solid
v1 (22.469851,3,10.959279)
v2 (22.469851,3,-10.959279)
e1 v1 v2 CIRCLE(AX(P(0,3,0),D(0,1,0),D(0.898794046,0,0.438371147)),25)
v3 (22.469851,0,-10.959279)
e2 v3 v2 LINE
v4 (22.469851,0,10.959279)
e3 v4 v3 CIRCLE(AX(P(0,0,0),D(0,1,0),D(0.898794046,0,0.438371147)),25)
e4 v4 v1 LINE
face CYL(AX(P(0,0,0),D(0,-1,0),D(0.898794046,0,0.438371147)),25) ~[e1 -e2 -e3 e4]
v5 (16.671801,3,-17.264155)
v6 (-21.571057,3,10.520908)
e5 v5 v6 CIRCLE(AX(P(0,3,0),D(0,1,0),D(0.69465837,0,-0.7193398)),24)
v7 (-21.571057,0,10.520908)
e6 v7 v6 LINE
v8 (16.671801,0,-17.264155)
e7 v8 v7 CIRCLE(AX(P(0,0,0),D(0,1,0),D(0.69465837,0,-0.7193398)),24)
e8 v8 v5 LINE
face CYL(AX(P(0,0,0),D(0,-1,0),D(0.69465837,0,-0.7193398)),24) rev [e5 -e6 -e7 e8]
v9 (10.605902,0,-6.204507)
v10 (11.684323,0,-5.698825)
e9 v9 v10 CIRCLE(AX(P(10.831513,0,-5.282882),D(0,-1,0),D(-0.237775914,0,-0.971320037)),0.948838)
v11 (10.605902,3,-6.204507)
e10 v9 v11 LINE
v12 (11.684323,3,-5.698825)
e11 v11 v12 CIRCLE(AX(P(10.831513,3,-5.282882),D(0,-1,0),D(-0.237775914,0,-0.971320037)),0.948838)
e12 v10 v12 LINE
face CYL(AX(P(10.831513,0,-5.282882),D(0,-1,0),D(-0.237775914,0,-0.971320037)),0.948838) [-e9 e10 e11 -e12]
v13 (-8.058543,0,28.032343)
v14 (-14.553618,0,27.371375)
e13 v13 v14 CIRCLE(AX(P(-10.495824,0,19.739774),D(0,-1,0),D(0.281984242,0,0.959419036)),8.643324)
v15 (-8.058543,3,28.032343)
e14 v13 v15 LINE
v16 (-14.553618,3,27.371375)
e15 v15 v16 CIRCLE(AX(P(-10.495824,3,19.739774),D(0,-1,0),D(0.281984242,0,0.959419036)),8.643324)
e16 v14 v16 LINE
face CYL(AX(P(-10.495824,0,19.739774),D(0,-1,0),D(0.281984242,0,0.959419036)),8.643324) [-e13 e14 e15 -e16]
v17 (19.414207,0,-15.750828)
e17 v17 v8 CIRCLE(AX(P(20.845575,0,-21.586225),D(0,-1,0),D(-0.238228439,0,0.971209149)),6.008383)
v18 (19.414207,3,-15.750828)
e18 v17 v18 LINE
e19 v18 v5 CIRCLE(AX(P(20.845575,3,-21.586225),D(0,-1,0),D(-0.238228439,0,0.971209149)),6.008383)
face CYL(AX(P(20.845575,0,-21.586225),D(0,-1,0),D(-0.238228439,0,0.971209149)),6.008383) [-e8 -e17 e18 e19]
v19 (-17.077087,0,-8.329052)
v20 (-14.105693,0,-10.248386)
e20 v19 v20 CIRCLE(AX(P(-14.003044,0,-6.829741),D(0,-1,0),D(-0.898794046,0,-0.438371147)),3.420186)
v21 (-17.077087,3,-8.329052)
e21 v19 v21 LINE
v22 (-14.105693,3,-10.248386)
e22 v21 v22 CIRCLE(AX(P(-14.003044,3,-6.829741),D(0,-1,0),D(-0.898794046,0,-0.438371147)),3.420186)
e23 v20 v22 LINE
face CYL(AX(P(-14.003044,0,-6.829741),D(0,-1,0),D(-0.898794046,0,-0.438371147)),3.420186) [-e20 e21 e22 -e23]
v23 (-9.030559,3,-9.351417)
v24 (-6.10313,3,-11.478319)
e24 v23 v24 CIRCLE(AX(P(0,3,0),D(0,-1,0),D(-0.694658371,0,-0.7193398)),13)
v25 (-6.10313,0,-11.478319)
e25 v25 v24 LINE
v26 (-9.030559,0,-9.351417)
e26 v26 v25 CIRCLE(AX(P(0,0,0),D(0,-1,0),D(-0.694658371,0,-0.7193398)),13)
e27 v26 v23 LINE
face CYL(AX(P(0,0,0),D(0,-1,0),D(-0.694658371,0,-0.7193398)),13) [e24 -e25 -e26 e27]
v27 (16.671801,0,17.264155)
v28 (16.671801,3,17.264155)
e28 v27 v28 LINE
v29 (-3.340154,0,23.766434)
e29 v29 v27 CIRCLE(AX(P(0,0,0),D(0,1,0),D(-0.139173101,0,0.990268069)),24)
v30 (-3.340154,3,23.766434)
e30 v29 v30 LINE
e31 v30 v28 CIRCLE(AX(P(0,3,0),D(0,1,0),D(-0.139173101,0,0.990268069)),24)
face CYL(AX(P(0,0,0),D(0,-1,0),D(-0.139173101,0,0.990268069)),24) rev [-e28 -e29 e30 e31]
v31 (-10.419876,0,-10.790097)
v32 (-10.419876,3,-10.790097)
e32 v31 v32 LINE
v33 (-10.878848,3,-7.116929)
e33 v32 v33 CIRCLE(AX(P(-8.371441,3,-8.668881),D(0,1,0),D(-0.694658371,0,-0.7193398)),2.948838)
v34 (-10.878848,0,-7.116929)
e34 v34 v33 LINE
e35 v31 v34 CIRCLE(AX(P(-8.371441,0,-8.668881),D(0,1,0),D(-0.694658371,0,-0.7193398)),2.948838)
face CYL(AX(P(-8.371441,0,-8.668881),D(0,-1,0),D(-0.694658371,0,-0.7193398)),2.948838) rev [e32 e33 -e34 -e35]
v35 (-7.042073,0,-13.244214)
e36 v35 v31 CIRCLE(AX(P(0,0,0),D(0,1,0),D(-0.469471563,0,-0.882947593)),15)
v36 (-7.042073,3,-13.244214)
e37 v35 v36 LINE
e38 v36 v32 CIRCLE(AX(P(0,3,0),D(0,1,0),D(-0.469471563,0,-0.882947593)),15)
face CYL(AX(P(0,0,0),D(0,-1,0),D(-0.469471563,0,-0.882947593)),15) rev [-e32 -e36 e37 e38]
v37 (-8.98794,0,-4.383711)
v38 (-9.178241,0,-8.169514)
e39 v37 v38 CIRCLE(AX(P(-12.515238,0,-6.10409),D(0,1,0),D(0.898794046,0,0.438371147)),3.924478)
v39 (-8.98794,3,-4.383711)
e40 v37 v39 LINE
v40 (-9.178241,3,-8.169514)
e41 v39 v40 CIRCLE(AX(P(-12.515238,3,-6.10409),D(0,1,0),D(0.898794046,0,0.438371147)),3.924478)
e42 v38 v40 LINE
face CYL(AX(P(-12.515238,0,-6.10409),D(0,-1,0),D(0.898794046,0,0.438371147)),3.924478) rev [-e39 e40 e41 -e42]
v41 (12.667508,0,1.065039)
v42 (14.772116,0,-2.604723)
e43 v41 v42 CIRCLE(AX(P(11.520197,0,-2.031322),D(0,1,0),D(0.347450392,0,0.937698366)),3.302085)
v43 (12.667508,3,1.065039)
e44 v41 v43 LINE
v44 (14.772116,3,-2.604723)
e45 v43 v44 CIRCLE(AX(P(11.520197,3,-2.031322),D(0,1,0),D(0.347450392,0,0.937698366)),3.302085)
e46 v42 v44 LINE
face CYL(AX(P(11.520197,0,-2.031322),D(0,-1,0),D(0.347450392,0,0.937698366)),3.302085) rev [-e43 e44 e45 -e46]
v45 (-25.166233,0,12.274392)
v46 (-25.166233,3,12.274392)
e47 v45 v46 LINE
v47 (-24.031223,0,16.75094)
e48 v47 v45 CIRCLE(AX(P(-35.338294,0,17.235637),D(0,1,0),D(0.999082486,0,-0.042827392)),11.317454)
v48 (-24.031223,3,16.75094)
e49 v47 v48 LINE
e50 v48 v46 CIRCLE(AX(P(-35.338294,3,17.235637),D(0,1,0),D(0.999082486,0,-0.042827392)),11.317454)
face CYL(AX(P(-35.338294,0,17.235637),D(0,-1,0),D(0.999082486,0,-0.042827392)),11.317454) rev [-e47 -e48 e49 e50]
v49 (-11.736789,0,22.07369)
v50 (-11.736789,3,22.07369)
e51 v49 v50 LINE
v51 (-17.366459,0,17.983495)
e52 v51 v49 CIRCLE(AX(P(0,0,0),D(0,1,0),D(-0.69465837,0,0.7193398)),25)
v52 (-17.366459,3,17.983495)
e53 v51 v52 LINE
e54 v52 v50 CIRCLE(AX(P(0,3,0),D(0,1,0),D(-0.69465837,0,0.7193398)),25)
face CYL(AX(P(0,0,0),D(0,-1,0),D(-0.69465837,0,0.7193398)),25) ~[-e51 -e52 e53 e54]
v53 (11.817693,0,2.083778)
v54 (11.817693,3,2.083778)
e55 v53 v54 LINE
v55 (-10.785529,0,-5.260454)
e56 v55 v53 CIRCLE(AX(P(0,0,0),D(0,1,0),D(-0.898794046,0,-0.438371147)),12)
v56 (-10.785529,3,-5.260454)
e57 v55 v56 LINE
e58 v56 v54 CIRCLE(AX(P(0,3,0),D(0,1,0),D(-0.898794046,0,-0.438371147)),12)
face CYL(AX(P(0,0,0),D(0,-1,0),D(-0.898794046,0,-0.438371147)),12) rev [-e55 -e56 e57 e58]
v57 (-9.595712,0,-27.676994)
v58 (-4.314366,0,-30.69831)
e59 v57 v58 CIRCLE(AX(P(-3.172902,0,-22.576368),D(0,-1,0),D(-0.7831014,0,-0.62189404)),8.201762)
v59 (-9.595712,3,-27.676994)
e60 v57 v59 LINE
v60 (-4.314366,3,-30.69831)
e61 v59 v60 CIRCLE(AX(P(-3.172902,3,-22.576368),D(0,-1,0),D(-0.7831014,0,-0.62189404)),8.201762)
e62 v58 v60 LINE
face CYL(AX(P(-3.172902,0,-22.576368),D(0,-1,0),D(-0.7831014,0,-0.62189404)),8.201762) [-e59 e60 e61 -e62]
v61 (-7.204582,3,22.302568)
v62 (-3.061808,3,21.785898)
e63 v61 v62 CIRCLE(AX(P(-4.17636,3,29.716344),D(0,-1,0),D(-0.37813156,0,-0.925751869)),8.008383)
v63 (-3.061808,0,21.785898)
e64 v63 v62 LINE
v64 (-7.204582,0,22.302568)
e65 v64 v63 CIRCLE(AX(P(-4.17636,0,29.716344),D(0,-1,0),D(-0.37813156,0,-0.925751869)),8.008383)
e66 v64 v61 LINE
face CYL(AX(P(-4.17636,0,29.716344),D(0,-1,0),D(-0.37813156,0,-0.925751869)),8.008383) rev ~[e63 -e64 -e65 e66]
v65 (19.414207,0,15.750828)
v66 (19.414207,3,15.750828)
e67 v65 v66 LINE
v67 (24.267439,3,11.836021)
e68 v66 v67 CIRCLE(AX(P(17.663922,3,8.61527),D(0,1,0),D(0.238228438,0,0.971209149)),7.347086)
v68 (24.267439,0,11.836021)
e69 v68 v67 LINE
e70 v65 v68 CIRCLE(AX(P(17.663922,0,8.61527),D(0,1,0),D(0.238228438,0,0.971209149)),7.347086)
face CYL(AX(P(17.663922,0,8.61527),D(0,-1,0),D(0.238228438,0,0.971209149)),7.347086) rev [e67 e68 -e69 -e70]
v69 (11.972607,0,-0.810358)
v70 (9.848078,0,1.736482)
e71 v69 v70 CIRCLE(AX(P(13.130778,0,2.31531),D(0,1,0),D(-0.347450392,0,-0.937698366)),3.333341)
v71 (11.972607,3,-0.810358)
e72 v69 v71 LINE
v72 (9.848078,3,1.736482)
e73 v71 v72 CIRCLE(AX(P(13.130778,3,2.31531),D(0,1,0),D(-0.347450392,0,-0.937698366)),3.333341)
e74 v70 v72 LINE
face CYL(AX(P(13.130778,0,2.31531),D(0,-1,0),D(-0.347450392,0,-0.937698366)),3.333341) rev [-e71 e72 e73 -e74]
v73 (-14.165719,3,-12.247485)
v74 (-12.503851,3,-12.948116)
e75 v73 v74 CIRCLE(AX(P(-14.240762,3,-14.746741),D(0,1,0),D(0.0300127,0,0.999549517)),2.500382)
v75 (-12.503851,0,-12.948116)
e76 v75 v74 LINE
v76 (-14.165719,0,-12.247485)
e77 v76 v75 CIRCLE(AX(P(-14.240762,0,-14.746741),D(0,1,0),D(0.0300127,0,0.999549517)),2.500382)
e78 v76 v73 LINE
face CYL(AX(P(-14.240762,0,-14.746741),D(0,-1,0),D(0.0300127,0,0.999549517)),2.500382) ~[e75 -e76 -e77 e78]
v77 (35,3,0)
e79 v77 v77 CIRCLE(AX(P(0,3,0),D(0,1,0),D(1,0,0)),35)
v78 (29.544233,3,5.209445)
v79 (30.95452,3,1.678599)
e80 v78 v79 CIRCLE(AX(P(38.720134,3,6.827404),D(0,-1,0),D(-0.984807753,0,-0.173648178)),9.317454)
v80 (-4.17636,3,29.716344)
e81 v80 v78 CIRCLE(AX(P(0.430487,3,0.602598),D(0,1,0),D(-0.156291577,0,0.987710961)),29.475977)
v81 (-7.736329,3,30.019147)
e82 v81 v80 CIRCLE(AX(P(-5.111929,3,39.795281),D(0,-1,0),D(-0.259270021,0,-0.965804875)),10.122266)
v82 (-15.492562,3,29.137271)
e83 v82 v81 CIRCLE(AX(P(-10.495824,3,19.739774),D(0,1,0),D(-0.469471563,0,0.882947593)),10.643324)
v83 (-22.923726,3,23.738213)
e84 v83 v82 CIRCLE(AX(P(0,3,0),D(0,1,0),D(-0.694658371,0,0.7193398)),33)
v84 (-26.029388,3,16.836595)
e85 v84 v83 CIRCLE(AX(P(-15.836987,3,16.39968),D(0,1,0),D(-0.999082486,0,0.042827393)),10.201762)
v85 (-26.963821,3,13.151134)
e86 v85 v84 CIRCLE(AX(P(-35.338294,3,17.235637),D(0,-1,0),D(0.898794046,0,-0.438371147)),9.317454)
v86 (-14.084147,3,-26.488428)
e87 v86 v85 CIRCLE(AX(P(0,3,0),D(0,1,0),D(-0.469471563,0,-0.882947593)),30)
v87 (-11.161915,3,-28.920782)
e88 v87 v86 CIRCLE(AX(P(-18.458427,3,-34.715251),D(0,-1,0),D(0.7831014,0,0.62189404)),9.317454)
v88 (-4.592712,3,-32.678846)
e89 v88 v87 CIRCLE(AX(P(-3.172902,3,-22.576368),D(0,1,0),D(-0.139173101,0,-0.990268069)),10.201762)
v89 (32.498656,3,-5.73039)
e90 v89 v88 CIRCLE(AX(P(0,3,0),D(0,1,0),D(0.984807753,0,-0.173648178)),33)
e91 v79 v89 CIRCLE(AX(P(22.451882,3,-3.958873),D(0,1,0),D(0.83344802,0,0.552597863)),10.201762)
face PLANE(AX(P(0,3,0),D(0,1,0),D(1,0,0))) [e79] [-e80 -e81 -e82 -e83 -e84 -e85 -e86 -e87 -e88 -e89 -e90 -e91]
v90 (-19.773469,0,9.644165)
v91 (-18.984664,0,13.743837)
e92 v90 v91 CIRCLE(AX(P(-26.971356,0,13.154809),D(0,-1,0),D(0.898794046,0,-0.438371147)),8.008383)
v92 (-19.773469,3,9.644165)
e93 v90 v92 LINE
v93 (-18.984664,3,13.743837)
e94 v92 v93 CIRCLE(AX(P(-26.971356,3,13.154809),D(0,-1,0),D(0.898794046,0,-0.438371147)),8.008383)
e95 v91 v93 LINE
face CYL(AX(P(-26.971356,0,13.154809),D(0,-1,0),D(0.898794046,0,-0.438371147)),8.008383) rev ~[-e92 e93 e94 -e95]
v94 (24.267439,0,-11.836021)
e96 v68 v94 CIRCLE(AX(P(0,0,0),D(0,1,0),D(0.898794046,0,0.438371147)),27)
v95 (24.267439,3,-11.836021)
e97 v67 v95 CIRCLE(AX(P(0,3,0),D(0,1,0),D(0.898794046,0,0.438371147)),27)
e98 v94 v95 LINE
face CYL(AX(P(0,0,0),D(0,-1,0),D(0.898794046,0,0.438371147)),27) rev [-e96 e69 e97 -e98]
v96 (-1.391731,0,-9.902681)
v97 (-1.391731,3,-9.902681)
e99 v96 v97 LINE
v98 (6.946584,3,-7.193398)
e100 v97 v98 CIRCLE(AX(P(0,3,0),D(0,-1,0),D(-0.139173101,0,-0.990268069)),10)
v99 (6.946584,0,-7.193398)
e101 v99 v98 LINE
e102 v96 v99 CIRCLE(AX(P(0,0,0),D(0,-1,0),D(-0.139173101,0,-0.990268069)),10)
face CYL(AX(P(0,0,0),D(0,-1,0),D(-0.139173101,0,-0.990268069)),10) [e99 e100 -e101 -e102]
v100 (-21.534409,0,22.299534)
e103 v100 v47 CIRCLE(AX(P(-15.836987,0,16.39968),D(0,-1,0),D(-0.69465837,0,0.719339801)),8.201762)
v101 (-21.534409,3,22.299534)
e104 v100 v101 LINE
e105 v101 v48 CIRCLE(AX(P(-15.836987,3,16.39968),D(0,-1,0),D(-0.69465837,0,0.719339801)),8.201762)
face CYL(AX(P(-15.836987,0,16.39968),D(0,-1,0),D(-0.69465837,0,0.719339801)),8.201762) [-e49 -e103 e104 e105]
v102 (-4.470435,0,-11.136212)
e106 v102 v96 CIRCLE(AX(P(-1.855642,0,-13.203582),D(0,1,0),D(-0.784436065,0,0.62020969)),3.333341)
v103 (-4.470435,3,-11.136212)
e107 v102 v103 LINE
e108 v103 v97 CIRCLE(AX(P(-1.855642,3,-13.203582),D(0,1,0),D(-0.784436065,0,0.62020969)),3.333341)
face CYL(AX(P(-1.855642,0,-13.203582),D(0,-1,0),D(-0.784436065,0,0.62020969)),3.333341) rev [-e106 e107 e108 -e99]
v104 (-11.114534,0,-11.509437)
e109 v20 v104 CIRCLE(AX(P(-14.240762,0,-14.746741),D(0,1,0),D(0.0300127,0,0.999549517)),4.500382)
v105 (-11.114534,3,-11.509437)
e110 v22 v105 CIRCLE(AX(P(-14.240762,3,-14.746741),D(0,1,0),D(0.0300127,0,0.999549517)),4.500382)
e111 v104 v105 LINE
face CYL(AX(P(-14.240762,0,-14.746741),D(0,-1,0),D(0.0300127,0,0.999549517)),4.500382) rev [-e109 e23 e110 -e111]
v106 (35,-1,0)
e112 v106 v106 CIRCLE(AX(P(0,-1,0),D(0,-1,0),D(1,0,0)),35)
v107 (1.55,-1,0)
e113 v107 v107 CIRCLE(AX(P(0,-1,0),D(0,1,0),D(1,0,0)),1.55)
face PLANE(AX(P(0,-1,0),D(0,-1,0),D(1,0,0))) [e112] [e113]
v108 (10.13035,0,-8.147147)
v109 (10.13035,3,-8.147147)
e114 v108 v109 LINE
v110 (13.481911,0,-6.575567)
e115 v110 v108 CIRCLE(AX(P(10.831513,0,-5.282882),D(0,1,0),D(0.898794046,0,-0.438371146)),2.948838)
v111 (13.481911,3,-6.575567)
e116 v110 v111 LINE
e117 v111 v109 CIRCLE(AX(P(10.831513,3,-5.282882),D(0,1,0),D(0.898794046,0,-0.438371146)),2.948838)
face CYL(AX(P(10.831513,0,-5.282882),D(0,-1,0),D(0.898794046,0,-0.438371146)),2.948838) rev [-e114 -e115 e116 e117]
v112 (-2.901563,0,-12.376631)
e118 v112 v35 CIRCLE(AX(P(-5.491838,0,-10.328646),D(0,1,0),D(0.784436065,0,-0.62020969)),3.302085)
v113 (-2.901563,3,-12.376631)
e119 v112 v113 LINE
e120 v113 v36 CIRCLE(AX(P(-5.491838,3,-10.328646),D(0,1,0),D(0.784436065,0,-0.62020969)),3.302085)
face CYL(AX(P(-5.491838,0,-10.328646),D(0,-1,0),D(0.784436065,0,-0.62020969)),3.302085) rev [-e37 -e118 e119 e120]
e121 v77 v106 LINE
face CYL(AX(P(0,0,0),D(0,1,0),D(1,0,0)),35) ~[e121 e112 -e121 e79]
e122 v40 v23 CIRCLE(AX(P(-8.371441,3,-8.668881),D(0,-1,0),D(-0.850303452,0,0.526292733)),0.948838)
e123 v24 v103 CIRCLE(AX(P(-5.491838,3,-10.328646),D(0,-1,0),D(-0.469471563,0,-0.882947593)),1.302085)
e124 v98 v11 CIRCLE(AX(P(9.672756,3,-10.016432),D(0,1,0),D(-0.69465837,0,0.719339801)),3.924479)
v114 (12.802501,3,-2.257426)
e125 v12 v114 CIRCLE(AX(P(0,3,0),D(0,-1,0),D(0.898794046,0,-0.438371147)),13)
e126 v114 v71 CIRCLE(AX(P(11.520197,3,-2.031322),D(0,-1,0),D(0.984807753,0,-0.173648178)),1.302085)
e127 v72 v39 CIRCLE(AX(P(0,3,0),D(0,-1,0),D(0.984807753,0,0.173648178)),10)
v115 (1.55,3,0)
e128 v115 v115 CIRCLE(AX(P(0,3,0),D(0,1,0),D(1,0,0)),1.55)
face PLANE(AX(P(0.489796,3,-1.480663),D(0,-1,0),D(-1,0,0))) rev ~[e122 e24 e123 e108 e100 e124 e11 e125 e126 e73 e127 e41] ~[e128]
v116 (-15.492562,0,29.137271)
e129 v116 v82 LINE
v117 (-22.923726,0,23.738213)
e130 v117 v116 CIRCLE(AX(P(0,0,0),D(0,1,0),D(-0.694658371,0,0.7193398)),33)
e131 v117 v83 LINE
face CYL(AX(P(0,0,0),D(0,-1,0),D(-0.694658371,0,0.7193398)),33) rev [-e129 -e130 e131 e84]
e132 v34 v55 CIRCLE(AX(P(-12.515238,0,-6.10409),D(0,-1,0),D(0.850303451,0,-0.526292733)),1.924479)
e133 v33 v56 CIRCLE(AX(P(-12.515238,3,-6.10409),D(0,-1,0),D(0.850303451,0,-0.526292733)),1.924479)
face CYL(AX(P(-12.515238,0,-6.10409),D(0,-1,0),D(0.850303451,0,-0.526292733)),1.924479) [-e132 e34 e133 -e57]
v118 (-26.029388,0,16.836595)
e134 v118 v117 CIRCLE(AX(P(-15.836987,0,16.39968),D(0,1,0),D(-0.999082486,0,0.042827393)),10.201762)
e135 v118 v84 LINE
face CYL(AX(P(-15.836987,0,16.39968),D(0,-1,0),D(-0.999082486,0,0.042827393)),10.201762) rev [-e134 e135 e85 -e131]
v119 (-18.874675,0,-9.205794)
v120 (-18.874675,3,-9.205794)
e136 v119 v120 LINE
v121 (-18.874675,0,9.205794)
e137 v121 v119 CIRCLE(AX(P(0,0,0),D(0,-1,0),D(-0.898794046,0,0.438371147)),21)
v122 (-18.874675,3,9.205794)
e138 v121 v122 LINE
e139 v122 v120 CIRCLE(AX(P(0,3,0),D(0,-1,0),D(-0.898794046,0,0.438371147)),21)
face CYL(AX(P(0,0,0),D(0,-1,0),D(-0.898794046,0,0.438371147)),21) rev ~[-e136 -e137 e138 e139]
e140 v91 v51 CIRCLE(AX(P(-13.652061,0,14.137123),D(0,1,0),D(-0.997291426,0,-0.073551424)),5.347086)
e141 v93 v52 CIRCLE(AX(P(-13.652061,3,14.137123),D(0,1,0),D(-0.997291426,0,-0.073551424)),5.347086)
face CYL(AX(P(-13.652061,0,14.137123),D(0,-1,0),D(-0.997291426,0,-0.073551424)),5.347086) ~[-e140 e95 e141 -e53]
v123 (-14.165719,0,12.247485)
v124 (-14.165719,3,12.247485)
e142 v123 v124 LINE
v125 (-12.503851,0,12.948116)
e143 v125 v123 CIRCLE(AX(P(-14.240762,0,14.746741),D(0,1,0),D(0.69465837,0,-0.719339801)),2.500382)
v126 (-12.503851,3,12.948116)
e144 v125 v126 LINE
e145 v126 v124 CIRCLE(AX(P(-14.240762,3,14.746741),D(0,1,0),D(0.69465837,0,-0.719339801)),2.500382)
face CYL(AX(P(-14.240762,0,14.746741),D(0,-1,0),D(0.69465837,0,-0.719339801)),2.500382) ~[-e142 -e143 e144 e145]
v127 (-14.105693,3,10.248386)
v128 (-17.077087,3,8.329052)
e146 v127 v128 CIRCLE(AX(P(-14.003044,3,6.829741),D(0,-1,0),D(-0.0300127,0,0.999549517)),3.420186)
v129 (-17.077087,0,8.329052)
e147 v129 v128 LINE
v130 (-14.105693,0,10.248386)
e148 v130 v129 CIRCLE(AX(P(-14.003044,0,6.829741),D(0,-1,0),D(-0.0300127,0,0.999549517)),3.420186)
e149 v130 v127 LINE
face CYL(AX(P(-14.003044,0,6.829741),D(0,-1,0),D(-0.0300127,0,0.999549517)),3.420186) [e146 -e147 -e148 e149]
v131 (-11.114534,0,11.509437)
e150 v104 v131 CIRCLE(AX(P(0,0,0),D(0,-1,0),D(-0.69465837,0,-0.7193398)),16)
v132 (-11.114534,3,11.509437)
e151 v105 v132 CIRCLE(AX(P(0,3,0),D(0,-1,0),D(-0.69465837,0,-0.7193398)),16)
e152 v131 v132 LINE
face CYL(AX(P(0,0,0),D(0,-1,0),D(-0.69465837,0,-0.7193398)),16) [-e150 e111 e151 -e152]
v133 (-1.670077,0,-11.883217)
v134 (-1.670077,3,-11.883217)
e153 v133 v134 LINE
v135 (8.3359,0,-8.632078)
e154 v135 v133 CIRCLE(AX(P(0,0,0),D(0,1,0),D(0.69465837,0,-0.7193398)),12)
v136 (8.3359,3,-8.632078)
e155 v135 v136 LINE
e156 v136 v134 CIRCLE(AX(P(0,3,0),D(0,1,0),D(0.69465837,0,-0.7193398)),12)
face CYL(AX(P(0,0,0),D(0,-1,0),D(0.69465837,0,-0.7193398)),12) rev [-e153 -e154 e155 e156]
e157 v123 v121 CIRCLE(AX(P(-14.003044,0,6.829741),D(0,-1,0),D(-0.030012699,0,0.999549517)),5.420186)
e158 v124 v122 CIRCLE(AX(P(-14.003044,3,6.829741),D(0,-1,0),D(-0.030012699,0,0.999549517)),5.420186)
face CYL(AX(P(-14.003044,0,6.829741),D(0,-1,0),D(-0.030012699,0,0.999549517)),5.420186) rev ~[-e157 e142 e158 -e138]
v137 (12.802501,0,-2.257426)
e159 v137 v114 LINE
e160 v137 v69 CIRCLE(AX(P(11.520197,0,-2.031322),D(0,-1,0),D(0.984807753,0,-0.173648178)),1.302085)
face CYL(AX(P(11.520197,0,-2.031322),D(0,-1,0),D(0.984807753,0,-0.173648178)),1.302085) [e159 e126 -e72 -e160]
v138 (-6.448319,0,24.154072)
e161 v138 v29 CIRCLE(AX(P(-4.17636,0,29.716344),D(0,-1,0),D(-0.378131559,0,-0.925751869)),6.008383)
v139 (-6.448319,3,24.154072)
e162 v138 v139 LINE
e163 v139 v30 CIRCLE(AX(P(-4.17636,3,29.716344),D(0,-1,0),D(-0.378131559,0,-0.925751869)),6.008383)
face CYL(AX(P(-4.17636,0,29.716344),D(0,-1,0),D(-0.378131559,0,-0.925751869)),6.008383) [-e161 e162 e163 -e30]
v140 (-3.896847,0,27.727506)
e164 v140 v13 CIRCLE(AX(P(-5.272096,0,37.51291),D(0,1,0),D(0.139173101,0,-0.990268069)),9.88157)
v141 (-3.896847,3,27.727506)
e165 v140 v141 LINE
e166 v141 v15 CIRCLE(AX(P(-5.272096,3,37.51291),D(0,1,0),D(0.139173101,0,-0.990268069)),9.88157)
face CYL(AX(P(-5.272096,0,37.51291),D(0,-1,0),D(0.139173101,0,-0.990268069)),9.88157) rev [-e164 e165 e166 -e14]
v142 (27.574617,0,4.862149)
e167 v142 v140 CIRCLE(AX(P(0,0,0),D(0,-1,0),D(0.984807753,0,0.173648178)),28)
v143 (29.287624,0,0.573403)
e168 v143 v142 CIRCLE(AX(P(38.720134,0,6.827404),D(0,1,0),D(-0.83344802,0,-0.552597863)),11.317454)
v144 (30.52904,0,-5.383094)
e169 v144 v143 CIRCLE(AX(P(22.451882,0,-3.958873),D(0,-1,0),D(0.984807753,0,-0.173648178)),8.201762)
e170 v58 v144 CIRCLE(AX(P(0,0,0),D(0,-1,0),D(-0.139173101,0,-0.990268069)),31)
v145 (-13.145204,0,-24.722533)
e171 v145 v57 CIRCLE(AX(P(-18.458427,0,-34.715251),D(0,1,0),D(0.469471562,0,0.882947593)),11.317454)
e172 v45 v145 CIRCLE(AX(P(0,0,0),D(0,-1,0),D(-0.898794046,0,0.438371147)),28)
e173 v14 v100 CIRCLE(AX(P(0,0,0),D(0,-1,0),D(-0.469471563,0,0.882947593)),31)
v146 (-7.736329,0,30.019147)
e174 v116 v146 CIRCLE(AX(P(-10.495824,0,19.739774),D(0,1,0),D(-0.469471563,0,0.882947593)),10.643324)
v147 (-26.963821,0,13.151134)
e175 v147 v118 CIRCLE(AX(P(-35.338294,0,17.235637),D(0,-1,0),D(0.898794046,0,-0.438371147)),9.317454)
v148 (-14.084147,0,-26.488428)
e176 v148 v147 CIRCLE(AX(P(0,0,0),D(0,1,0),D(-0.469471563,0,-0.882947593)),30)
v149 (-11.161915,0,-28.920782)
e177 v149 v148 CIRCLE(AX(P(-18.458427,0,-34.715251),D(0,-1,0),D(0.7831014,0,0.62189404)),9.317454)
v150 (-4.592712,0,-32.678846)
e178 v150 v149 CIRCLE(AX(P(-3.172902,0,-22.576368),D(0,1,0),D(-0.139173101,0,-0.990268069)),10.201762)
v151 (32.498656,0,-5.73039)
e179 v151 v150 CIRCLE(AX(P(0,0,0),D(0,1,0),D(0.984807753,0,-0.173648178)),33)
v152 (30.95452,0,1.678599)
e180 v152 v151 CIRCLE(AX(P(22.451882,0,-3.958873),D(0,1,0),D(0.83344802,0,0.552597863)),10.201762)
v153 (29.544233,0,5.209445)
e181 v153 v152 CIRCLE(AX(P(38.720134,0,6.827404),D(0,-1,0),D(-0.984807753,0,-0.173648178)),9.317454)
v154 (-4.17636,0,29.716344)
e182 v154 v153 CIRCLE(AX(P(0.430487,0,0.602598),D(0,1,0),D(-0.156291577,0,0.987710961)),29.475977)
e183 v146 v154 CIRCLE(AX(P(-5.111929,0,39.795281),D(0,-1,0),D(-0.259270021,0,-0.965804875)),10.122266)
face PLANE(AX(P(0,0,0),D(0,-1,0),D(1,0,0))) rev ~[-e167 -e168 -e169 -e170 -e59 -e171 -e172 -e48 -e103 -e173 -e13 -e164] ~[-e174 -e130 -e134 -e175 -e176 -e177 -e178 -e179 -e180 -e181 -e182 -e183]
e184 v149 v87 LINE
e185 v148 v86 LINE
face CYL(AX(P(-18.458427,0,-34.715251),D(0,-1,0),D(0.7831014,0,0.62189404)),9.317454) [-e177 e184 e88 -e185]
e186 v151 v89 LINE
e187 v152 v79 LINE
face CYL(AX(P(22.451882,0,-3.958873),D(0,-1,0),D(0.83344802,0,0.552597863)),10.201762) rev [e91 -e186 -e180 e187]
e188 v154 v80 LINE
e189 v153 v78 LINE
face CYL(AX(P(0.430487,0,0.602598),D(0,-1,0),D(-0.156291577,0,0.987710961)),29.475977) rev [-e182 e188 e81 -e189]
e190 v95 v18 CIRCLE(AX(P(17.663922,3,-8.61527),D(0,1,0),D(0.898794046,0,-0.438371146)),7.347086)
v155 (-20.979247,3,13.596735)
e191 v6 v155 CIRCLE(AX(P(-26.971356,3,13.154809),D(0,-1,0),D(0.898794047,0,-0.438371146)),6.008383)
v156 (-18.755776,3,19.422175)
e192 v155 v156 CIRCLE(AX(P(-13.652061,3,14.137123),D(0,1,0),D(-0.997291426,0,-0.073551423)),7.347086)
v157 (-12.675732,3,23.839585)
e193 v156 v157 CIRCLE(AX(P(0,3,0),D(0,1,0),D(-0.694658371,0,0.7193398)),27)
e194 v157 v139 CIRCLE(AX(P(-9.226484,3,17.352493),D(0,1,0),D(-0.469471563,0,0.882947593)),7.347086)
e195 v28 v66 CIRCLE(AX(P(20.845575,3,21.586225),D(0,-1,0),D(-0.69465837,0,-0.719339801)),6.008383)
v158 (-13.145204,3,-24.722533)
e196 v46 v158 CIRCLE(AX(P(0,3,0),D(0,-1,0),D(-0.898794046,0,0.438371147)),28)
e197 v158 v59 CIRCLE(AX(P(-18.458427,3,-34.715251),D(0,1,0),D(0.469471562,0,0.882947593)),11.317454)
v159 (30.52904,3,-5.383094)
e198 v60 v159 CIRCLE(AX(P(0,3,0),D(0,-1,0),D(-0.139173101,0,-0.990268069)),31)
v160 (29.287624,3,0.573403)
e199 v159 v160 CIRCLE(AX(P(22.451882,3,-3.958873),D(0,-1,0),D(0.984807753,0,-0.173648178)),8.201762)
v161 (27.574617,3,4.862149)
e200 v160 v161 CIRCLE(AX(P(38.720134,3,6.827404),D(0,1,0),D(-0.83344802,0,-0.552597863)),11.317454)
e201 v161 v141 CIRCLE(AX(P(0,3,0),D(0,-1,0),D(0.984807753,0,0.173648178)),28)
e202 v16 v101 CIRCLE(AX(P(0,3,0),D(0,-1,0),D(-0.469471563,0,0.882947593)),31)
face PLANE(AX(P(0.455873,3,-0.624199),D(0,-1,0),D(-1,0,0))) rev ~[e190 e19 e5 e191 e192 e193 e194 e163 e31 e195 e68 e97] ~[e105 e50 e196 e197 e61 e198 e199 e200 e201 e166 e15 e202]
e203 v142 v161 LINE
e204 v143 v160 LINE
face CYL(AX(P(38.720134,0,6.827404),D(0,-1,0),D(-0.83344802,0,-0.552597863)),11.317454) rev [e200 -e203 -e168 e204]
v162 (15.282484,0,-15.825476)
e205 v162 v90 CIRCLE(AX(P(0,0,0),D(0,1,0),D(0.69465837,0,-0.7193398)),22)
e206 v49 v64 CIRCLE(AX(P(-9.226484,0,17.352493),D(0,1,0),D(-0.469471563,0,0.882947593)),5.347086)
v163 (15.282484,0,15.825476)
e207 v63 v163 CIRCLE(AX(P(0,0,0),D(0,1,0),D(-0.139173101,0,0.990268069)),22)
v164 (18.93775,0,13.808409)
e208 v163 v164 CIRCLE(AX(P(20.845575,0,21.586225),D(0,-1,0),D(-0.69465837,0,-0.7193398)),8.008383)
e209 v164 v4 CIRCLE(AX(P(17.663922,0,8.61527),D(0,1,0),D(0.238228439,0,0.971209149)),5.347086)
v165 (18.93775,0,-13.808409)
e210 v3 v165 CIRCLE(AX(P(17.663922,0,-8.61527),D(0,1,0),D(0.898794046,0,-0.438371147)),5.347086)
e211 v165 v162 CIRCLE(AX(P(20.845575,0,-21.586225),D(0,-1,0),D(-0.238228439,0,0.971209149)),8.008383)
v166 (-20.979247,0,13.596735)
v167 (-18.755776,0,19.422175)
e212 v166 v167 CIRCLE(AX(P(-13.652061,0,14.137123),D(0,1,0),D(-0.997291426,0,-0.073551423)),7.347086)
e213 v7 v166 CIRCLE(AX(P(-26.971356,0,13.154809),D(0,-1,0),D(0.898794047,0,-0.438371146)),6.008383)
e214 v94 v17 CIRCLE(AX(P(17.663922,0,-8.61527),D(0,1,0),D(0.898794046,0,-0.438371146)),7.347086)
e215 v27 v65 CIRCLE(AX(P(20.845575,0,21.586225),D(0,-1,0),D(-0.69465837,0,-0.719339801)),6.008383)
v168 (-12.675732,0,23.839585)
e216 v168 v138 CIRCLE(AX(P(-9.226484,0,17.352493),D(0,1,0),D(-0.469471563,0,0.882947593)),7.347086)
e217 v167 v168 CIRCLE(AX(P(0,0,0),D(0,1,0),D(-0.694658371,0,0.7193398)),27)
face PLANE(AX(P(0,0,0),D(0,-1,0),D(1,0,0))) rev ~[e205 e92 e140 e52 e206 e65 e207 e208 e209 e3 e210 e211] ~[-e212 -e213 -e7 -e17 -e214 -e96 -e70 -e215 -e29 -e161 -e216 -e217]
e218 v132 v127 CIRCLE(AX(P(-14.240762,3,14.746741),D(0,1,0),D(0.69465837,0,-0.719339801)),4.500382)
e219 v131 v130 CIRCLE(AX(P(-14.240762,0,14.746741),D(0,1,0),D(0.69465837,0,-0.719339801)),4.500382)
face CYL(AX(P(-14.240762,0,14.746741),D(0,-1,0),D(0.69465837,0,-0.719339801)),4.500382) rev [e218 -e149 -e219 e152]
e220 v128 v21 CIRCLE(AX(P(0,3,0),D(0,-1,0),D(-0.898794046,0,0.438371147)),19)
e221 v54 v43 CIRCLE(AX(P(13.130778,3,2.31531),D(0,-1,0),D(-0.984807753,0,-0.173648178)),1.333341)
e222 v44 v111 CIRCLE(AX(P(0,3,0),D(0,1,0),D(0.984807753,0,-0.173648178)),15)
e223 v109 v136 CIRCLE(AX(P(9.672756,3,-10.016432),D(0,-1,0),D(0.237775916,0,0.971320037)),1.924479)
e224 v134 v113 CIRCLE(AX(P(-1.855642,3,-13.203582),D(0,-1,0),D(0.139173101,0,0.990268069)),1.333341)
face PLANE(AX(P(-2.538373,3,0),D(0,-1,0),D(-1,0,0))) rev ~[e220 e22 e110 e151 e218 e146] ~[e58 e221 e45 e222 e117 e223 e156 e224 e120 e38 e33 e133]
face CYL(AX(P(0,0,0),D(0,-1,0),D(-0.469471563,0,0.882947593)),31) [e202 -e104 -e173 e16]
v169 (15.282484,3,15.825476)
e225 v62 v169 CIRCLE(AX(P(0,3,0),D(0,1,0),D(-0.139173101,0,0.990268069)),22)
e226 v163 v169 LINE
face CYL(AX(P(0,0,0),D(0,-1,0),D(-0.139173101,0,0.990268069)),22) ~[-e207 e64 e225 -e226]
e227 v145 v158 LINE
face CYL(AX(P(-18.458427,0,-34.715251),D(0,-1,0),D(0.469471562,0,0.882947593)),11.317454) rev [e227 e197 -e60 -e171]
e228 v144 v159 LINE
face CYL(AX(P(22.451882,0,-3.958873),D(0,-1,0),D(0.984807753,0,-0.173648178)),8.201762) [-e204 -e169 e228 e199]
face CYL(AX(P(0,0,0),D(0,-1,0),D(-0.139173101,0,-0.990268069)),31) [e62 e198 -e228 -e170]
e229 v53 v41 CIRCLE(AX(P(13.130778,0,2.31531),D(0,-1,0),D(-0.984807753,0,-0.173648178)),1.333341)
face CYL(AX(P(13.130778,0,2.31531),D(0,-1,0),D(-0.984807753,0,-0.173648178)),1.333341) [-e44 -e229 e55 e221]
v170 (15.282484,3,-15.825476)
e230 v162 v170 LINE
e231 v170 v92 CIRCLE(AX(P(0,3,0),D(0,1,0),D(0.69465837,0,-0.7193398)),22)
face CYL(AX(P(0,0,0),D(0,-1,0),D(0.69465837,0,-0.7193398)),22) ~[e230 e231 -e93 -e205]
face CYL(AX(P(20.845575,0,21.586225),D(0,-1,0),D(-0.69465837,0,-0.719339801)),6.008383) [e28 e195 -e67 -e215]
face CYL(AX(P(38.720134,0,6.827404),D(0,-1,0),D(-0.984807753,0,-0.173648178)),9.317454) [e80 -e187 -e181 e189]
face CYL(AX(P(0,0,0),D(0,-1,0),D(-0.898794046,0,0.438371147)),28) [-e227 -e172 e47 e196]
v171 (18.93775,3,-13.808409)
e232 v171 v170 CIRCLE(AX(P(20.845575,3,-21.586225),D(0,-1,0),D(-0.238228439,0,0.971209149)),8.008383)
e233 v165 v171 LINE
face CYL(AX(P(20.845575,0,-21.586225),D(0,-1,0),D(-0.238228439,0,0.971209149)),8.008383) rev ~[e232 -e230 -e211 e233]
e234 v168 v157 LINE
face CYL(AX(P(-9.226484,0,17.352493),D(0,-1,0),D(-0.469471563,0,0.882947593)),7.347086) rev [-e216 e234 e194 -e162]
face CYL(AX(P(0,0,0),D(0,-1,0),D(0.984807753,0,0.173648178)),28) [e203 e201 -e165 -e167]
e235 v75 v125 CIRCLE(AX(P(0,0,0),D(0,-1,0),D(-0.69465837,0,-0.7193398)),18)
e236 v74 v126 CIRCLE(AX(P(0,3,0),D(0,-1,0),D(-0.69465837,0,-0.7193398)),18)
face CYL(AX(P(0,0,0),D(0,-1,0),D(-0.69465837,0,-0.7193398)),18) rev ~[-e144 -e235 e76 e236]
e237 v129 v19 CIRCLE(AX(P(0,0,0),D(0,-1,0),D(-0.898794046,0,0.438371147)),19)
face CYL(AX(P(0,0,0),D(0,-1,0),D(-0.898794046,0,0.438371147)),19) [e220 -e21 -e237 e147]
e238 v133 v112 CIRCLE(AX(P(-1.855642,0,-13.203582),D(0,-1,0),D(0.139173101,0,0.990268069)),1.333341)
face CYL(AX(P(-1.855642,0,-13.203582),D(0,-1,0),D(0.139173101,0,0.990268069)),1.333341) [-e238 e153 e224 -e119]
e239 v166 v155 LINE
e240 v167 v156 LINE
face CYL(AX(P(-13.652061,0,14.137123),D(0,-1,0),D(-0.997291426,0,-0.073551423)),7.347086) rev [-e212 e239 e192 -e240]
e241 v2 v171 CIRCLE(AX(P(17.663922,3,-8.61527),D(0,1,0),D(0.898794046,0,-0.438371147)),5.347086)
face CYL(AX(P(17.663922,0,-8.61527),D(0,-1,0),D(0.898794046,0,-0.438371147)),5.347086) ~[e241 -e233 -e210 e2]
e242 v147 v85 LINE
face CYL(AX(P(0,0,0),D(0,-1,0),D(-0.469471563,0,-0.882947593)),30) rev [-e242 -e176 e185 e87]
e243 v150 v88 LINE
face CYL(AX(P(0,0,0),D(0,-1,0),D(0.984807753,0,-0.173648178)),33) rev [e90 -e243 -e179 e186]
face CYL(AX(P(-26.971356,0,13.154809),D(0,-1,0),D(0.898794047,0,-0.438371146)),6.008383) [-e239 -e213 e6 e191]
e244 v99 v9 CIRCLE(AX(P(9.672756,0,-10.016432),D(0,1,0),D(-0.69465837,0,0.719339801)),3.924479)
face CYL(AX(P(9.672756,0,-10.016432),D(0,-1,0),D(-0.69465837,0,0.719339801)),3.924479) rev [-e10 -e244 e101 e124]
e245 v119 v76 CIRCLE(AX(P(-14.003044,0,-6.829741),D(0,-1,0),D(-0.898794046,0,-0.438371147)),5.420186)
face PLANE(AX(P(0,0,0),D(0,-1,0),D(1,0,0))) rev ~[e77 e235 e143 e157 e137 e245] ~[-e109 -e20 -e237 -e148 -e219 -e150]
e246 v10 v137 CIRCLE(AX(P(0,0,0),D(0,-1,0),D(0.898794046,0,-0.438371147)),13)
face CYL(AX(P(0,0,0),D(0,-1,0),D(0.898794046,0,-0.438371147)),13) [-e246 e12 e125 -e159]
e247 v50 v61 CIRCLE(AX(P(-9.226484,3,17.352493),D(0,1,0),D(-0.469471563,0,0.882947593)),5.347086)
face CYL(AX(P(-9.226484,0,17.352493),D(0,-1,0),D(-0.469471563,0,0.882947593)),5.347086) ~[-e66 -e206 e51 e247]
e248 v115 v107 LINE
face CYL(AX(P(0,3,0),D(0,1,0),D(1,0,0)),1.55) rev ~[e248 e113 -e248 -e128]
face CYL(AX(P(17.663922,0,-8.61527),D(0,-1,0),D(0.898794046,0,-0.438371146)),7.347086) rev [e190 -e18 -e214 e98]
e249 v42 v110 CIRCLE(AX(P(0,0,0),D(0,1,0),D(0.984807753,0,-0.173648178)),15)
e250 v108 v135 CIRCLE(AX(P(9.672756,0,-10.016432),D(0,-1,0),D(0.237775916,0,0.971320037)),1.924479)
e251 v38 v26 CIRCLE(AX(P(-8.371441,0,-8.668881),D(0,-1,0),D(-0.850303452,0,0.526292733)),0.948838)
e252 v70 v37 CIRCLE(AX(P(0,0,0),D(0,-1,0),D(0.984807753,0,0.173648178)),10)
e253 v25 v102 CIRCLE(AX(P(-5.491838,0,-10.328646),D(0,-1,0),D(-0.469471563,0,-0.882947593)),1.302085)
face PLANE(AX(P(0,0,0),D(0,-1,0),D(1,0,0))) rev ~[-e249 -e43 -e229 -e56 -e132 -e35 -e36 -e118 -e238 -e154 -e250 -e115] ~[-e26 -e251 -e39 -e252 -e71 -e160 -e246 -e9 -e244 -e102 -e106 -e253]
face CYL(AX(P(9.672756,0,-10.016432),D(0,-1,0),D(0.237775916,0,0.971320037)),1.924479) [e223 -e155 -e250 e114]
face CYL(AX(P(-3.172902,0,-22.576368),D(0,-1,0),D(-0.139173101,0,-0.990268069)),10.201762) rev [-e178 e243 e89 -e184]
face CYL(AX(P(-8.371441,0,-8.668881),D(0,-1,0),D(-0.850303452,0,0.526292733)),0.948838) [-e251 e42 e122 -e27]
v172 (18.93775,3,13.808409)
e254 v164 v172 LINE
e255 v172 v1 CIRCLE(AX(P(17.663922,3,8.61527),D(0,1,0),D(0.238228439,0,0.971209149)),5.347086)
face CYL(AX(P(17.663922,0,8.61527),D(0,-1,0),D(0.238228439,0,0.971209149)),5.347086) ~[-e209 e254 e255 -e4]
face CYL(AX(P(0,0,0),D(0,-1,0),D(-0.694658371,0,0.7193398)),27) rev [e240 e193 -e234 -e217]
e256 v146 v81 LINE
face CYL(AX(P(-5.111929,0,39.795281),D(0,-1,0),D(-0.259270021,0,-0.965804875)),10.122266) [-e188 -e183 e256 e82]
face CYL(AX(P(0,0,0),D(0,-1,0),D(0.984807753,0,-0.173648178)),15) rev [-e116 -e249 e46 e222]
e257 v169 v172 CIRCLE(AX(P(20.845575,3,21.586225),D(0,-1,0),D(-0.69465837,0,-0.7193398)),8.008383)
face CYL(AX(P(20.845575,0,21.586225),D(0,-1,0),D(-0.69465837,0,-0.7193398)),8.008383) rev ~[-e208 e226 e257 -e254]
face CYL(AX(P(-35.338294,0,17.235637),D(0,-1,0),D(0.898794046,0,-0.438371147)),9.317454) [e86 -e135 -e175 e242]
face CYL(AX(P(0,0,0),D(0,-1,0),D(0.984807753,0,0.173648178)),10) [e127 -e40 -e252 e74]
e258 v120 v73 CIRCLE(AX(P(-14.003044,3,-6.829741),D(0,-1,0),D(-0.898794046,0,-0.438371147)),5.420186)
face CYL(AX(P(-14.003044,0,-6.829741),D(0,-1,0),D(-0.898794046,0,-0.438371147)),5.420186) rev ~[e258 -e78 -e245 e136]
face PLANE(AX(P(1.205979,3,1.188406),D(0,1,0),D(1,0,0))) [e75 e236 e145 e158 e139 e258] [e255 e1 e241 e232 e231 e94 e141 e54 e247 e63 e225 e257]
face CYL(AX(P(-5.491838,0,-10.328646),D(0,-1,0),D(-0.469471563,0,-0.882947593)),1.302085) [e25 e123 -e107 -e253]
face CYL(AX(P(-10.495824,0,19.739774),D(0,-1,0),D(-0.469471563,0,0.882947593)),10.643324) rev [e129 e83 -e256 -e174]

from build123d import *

# Parameters (mm, degrees)
EXTRUDE_1_DEPTH     = 3
EXTRUDE_1_2_DEPTH   = 3
EXTRUDE_1_3_DEPTH   = 3
EXTRUDE_1_4_DEPTH   = 3
SKETCH_1_R          = 35
EXTRUDE_1_5_DEPTH   = 3
SKETCH_3_R          = 35
EXTRUDE_2_DEPTH     = 1
SKETCH_4_R          = 1.55
CUT_EXTRUDE_1_DEPTH = 5


with BuildPart() as part:
    # 草图1 → 凸台-拉伸1 (new body)
    with BuildSketch(Plane(origin=(0, 0, 0), x_dir=(1, 0, 0), z_dir=(0, 1, 0))):
        with BuildLine():
            ThreePointArc((-8.987940463, 4.383711468), (-8.595708593, 6.301111944), (-9.178240759, 8.169514123))
            ThreePointArc((-9.178240759, 8.169514123), (-9.312956952, 8.786525533), (-9.030558816, 9.351417404))
            ThreePointArc((-9.030558816, 9.351417404), (-7.64120828, 10.517220927), (-6.103130316, 11.478318707))
            ThreePointArc((-6.103130316, 11.478318707), (-5.224804474, 11.603054959), (-4.470435457, 11.136211511))
            ThreePointArc((-4.470435457, 11.136211511), (-3.095389379, 10.109363067), (-1.39173101, 9.902680687))
            ThreePointArc((-1.39173101, 9.902680687), (3.090169944, 9.510565163), (6.946583705, 7.193398003))
            ThreePointArc((6.946583705, 7.193398003), (8.648933609, 6.227853996), (10.605902015, 6.204506982))
            ThreePointArc((10.605902015, 6.204506982), (11.23434433, 6.141962683), (11.684322602, 5.698824908))
            ThreePointArc((11.684322602, 5.698824908), (12.363734712, 4.017220927), (12.802500789, 2.25742631))
            ThreePointArc((12.802500789, 2.25742631), (12.649714402, 1.383543172), (11.972607053, 0.810358162))
            ThreePointArc((11.972607053, 0.810358162), (10.571103543, -0.180074751), (9.84807753, -1.736481777))
            ThreePointArc((9.84807753, -1.736481777), (-3.090169944, -9.510565163), (-8.987940463, 4.383711468))
        make_face()
    extrude(amount=EXTRUDE_1_DEPTH)



with BuildPart() as body_2:
    # 草图1 → Extrude 1 2 (new body)
    with BuildSketch(Plane(origin=(0, 0, 0), x_dir=(1, 0, 0), z_dir=(0, 1, 0))):
        with BuildLine():
            ThreePointArc((-11.114533927, -11.509436805), (-12.492455263, -10.599830784), (-14.105693288, -10.248386061))
            ThreePointArc((-14.105693288, -10.248386061), (-15.858793025, -9.702695478), (-17.07708688, -8.329051789))
            ThreePointArc((-17.07708688, -8.329051789), (-19, 0), (-17.07708688, 8.329051789))
            ThreePointArc((-17.07708688, 8.329051789), (-15.858793025, 9.702695478), (-14.105693288, 10.248386061))
            ThreePointArc((-14.105693288, 10.248386061), (-12.492455263, 10.599830784), (-11.114533927, 11.509436805))
            ThreePointArc((-11.114533927, 11.509436805), (16, 0), (-11.114533927, -11.509436805))
        make_face()
        with BuildLine():
            ThreePointArc((-10.785528556, 5.260453761), (-3.708203932, -11.412678196), (11.817693036, -2.083778132))
            ThreePointArc((11.817693036, -2.083778132), (12.10690446, -1.461213129), (12.667507838, -1.065038569))
            ThreePointArc((12.667507838, -1.065038569), (14.384650397, 0.388557195), (14.772116295, 2.604722665))
            ThreePointArc((14.772116295, 2.604722665), (14.265847744, 4.635254916), (13.481910694, 6.575567202))
            ThreePointArc((13.481910694, 6.575567202), (12.083449441, 7.952769275), (10.130350184, 8.147147056))
            ThreePointArc((10.130350184, 8.147147056), (9.17069564, 8.158595921), (8.335900446, 8.632077604))
            ThreePointArc((8.335900446, 8.632077604), (3.708203932, 11.412678196), (-1.670077212, 11.883216825))
            ThreePointArc((-1.670077212, 11.883216825), (-2.351542959, 11.965890068), (-2.901563328, 12.376630892))
            ThreePointArc((-2.901563328, 12.376630892), (-4.814641283, 13.560544718), (-7.042073442, 13.244213893))
            ThreePointArc((-7.042073442, 13.244213893), (-8.816778784, 12.135254916), (-10.419875557, 10.790097005))
            ThreePointArc((-10.419875557, 10.790097005), (-11.297524269, 9.034502472), (-10.878847662, 7.116928659))
            ThreePointArc((-10.878847662, 7.116928659), (-10.593186617, 6.200705058), (-10.785528556, 5.260453761))
        make_face(mode=Mode.SUBTRACT)
    extrude(amount=EXTRUDE_1_2_DEPTH)


with BuildPart() as body_3:
    # 草图1 → Extrude 1 3 (new body)
    with BuildSketch(Plane(origin=(0, 0, 0), x_dir=(1, 0, 0), z_dir=(0, 1, 0))):
        with BuildLine():
            ThreePointArc((18.937750033, -13.8084093), (21.021041042, -12.777130739), (22.469851157, -10.95927867))
            ThreePointArc((22.469851157, -10.95927867), (25, 0), (22.469851157, 10.95927867))
            ThreePointArc((22.469851157, 10.95927867), (21.021041042, 12.777130739), (18.937750033, 13.8084093))
            ThreePointArc((18.937750033, 13.8084093), (16.976365134, 14.574561246), (15.28248415, 15.825475607))
            ThreePointArc((15.28248415, 15.825475607), (-12.93127555, 17.798373876), (-19.773469019, -9.644165229))
            ThreePointArc((-19.773469019, -9.644165229), (-19.107216775, -11.641695573), (-18.98466424, -13.743837434))
            ThreePointArc((-18.98466424, -13.743837434), (-18.647632371, -16.043847525), (-17.366459261, -17.983495008))
            ThreePointArc((-17.366459261, -17.983495008), (-14.694631307, -20.225424859), (-11.73678907, -22.073689821))
            ThreePointArc((-11.73678907, -22.073689821), (-9.496170427, -22.69277382), (-7.204582268, -22.302567971))
            ThreePointArc((-7.204582268, -22.302567971), (-5.167455737, -21.769524797), (-3.061808221, -21.785897512))
            ThreePointArc((-3.061808221, -21.785897512), (6.798373876, -20.923243358), (15.28248415, -15.825475607))
            ThreePointArc((15.28248415, -15.825475607), (16.976365134, -14.574561246), (18.937750033, -13.8084093))
        make_face()
        with BuildLine():
            ThreePointArc((-12.503850668, -12.948116406), (-13.269414492, -12.44274542), (-14.165718687, -12.247485096))
            ThreePointArc((-14.165718687, -12.247485096), (-16.943967267, -11.382694545), (-18.874674972, -9.205794083))
            ThreePointArc((-18.874674972, -9.205794083), (-21, 0), (-18.874674972, 9.205794083))
            ThreePointArc((-18.874674972, 9.205794083), (-16.943967267, 11.382694545), (-14.165718687, 12.247485096))
            ThreePointArc((-14.165718687, 12.247485096), (-13.269414492, 12.44274542), (-12.503850668, 12.948116406))
            ThreePointArc((-12.503850668, 12.948116406), (18, 0), (-12.503850668, -12.948116406))
        make_face(mode=Mode.SUBTRACT)
    extrude(amount=EXTRUDE_1_3_DEPTH)


with BuildPart() as body_4:
    # 草图1 → Extrude 1 4 (new body)
    with BuildSketch(Plane(origin=(0, 0, 0), x_dir=(1, 0, 0), z_dir=(0, 1, 0))):
        with BuildLine():
            ThreePointArc((-4.31436613, 30.698310131), (18.221342821, 25.079526826), (30.529040343, 5.383093508))
            ThreePointArc((30.529040343, 5.383093508), (30.48111684, 2.285468824), (29.287623908, -0.573403325))
            ThreePointArc((29.287623908, -0.573403325), (28.210037241, -2.62947128), (27.574617084, -4.862148975))
            ThreePointArc((27.574617084, -4.862148975), (16.457987064, -22.652475842), (-3.896846827, -27.727505925))
            ThreePointArc((-3.896846827, -27.727505925), (-5.993969283, -27.657741779), (-8.058542774, -28.03234281))
            ThreePointArc((-8.058542774, -28.03234281), (-11.37088699, -28.338686756), (-14.553618446, -27.371375379))
            ThreePointArc((-14.553618446, -27.371375379), (-18.221342821, -25.079526826), (-21.534409484, -22.29953381))
            ThreePointArc((-21.534409484, -22.29953381), (-23.316376662, -19.765334071), (-24.031223485, -16.750940373))
            ThreePointArc((-24.031223485, -16.750940373), (-24.36796398, -14.454156905), (-25.166233296, -12.27439211))
            ThreePointArc((-25.166233296, -12.27439211), (-26.629582456, 8.652475843), (-13.145203758, 24.7225326))
            ThreePointArc((-13.145203758, 24.7225326), (-11.218156715, 26.016788431), (-9.595712481, 27.676994193))
            ThreePointArc((-9.595712481, 27.676994193), (-7.245573093, 29.695513501), (-4.31436613, 30.698310131))
        make_face()
        with BuildLine():
            ThreePointArc((24.26743925, -11.836020963), (27, 0), (24.26743925, 11.836020963))
            ThreePointArc((24.26743925, 11.836020963), (22.276722717, 14.333814244), (19.414206911, 15.750827598))
            ThreePointArc((19.414206911, 15.750827598), (17.942654929, 16.325642065), (16.671800891, 17.264155208))
            ThreePointArc((16.671800891, 17.264155208), (-14.106846055, 19.416407865), (-21.571057111, -10.520907523))
            ThreePointArc((-21.571057111, -10.520907523), (-21.071193566, -12.019578048), (-20.979247092, -13.596734588))
            ThreePointArc((-20.979247092, -13.596734588), (-20.516153338, -16.757030106), (-18.755776002, -19.422174609))
            ThreePointArc((-18.755776002, -19.422174609), (-15.870201812, -21.843458848), (-12.675732195, -23.839585007))
            ThreePointArc((-12.675732195, -23.839585007), (-9.597042635, -24.6902284), (-6.448319149, -24.15407171))
            ThreePointArc((-6.448319149, -24.15407171), (-4.919941122, -23.754149829), (-3.340154423, -23.76643365))
            ThreePointArc((-3.340154423, -23.76643365), (7.416407865, -22.825356391), (16.671800891, -17.264155208))
            ThreePointArc((16.671800891, -17.264155208), (17.942654929, -16.325642065), (19.414206911, -15.750827598))
            ThreePointArc((19.414206911, -15.750827598), (22.276722717, -14.333814244), (24.26743925, -11.836020963))
        make_face(mode=Mode.SUBTRACT)
    extrude(amount=EXTRUDE_1_4_DEPTH)


with BuildPart() as body_5:
    # 草图1 → Extrude 1 5 (new body)
    with BuildSketch(Plane(origin=(0, 0, 0), x_dir=(1, 0, 0), z_dir=(0, 1, 0))):
        Circle(SKETCH_1_R)
        with BuildLine():
            ThreePointArc((-4.592712332, 32.678846268), (-8.238694275, 31.431517625), (-11.161915282, 28.920782272))
            ThreePointArc((-11.161915282, 28.920782272), (-12.497644107, 27.553965069), (-14.084146884, 26.488427786))
            ThreePointArc((-14.084146884, 26.488427786), (-28.531695489, 9.270509831), (-26.963821389, -13.151134404))
            ThreePointArc((-26.963821389, -13.151134404), (-26.306620782, -14.945695108), (-26.029388457, -16.836595159))
            ThreePointArc((-26.029388457, -16.836595159), (-25.140226197, -20.586048925), (-22.923726225, -23.738213411))
            ThreePointArc((-22.923726225, -23.738213411), (-19.396913326, -26.697560814), (-15.492561572, -29.137270564))
            ThreePointArc((-15.492561572, -29.137270564), (-11.698213434, -30.314961384), (-7.736329089, -30.019147427))
            ThreePointArc((-7.736329089, -30.019147427), (-5.969810062, -29.709434307), (-4.176359771, -29.716343862))
            ThreePointArc((-4.176359771, -29.716343862), (17.759481282, -24.44665794), (29.54423259, -5.20944533))
            ThreePointArc((29.54423259, -5.20944533), (30.067362447, -3.371322398), (30.954519948, -1.678599051))
            ThreePointArc((30.954519948, -1.678599051), (32.439046197, 1.87740923), (32.498655849, 5.730389863))
            ThreePointArc((32.498655849, 5.730389863), (19.396913326, 26.697560814), (-4.592712332, 32.678846268))
        make_face(mode=Mode.SUBTRACT)
    extrude(amount=EXTRUDE_1_5_DEPTH)


with BuildPart() as part_1:
    add(part.part)

    add(body_2.part)  # 凸台-拉伸2 merges body 2

    add(body_3.part)  # 凸台-拉伸2 merges body 3

    add(body_4.part)  # 凸台-拉伸2 merges body 4

    add(body_5.part)  # 凸台-拉伸2 merges body 5
    # 草图3 → 凸台-拉伸2 (add)
    with BuildSketch(Plane.XZ):
        Circle(SKETCH_3_R)
    extrude(amount=EXTRUDE_2_DEPTH)

    # 草图4 → 切除-拉伸1 (cut, through all)
    with BuildSketch(Plane(origin=(0, 3, 0), x_dir=(1, 0, 0), z_dir=(0, 1, 0))):
        Circle(SKETCH_4_R)
    extrude(amount=-CUT_EXTRUDE_1_DEPTH, mode=Mode.SUBTRACT)


solid = part_1.part
